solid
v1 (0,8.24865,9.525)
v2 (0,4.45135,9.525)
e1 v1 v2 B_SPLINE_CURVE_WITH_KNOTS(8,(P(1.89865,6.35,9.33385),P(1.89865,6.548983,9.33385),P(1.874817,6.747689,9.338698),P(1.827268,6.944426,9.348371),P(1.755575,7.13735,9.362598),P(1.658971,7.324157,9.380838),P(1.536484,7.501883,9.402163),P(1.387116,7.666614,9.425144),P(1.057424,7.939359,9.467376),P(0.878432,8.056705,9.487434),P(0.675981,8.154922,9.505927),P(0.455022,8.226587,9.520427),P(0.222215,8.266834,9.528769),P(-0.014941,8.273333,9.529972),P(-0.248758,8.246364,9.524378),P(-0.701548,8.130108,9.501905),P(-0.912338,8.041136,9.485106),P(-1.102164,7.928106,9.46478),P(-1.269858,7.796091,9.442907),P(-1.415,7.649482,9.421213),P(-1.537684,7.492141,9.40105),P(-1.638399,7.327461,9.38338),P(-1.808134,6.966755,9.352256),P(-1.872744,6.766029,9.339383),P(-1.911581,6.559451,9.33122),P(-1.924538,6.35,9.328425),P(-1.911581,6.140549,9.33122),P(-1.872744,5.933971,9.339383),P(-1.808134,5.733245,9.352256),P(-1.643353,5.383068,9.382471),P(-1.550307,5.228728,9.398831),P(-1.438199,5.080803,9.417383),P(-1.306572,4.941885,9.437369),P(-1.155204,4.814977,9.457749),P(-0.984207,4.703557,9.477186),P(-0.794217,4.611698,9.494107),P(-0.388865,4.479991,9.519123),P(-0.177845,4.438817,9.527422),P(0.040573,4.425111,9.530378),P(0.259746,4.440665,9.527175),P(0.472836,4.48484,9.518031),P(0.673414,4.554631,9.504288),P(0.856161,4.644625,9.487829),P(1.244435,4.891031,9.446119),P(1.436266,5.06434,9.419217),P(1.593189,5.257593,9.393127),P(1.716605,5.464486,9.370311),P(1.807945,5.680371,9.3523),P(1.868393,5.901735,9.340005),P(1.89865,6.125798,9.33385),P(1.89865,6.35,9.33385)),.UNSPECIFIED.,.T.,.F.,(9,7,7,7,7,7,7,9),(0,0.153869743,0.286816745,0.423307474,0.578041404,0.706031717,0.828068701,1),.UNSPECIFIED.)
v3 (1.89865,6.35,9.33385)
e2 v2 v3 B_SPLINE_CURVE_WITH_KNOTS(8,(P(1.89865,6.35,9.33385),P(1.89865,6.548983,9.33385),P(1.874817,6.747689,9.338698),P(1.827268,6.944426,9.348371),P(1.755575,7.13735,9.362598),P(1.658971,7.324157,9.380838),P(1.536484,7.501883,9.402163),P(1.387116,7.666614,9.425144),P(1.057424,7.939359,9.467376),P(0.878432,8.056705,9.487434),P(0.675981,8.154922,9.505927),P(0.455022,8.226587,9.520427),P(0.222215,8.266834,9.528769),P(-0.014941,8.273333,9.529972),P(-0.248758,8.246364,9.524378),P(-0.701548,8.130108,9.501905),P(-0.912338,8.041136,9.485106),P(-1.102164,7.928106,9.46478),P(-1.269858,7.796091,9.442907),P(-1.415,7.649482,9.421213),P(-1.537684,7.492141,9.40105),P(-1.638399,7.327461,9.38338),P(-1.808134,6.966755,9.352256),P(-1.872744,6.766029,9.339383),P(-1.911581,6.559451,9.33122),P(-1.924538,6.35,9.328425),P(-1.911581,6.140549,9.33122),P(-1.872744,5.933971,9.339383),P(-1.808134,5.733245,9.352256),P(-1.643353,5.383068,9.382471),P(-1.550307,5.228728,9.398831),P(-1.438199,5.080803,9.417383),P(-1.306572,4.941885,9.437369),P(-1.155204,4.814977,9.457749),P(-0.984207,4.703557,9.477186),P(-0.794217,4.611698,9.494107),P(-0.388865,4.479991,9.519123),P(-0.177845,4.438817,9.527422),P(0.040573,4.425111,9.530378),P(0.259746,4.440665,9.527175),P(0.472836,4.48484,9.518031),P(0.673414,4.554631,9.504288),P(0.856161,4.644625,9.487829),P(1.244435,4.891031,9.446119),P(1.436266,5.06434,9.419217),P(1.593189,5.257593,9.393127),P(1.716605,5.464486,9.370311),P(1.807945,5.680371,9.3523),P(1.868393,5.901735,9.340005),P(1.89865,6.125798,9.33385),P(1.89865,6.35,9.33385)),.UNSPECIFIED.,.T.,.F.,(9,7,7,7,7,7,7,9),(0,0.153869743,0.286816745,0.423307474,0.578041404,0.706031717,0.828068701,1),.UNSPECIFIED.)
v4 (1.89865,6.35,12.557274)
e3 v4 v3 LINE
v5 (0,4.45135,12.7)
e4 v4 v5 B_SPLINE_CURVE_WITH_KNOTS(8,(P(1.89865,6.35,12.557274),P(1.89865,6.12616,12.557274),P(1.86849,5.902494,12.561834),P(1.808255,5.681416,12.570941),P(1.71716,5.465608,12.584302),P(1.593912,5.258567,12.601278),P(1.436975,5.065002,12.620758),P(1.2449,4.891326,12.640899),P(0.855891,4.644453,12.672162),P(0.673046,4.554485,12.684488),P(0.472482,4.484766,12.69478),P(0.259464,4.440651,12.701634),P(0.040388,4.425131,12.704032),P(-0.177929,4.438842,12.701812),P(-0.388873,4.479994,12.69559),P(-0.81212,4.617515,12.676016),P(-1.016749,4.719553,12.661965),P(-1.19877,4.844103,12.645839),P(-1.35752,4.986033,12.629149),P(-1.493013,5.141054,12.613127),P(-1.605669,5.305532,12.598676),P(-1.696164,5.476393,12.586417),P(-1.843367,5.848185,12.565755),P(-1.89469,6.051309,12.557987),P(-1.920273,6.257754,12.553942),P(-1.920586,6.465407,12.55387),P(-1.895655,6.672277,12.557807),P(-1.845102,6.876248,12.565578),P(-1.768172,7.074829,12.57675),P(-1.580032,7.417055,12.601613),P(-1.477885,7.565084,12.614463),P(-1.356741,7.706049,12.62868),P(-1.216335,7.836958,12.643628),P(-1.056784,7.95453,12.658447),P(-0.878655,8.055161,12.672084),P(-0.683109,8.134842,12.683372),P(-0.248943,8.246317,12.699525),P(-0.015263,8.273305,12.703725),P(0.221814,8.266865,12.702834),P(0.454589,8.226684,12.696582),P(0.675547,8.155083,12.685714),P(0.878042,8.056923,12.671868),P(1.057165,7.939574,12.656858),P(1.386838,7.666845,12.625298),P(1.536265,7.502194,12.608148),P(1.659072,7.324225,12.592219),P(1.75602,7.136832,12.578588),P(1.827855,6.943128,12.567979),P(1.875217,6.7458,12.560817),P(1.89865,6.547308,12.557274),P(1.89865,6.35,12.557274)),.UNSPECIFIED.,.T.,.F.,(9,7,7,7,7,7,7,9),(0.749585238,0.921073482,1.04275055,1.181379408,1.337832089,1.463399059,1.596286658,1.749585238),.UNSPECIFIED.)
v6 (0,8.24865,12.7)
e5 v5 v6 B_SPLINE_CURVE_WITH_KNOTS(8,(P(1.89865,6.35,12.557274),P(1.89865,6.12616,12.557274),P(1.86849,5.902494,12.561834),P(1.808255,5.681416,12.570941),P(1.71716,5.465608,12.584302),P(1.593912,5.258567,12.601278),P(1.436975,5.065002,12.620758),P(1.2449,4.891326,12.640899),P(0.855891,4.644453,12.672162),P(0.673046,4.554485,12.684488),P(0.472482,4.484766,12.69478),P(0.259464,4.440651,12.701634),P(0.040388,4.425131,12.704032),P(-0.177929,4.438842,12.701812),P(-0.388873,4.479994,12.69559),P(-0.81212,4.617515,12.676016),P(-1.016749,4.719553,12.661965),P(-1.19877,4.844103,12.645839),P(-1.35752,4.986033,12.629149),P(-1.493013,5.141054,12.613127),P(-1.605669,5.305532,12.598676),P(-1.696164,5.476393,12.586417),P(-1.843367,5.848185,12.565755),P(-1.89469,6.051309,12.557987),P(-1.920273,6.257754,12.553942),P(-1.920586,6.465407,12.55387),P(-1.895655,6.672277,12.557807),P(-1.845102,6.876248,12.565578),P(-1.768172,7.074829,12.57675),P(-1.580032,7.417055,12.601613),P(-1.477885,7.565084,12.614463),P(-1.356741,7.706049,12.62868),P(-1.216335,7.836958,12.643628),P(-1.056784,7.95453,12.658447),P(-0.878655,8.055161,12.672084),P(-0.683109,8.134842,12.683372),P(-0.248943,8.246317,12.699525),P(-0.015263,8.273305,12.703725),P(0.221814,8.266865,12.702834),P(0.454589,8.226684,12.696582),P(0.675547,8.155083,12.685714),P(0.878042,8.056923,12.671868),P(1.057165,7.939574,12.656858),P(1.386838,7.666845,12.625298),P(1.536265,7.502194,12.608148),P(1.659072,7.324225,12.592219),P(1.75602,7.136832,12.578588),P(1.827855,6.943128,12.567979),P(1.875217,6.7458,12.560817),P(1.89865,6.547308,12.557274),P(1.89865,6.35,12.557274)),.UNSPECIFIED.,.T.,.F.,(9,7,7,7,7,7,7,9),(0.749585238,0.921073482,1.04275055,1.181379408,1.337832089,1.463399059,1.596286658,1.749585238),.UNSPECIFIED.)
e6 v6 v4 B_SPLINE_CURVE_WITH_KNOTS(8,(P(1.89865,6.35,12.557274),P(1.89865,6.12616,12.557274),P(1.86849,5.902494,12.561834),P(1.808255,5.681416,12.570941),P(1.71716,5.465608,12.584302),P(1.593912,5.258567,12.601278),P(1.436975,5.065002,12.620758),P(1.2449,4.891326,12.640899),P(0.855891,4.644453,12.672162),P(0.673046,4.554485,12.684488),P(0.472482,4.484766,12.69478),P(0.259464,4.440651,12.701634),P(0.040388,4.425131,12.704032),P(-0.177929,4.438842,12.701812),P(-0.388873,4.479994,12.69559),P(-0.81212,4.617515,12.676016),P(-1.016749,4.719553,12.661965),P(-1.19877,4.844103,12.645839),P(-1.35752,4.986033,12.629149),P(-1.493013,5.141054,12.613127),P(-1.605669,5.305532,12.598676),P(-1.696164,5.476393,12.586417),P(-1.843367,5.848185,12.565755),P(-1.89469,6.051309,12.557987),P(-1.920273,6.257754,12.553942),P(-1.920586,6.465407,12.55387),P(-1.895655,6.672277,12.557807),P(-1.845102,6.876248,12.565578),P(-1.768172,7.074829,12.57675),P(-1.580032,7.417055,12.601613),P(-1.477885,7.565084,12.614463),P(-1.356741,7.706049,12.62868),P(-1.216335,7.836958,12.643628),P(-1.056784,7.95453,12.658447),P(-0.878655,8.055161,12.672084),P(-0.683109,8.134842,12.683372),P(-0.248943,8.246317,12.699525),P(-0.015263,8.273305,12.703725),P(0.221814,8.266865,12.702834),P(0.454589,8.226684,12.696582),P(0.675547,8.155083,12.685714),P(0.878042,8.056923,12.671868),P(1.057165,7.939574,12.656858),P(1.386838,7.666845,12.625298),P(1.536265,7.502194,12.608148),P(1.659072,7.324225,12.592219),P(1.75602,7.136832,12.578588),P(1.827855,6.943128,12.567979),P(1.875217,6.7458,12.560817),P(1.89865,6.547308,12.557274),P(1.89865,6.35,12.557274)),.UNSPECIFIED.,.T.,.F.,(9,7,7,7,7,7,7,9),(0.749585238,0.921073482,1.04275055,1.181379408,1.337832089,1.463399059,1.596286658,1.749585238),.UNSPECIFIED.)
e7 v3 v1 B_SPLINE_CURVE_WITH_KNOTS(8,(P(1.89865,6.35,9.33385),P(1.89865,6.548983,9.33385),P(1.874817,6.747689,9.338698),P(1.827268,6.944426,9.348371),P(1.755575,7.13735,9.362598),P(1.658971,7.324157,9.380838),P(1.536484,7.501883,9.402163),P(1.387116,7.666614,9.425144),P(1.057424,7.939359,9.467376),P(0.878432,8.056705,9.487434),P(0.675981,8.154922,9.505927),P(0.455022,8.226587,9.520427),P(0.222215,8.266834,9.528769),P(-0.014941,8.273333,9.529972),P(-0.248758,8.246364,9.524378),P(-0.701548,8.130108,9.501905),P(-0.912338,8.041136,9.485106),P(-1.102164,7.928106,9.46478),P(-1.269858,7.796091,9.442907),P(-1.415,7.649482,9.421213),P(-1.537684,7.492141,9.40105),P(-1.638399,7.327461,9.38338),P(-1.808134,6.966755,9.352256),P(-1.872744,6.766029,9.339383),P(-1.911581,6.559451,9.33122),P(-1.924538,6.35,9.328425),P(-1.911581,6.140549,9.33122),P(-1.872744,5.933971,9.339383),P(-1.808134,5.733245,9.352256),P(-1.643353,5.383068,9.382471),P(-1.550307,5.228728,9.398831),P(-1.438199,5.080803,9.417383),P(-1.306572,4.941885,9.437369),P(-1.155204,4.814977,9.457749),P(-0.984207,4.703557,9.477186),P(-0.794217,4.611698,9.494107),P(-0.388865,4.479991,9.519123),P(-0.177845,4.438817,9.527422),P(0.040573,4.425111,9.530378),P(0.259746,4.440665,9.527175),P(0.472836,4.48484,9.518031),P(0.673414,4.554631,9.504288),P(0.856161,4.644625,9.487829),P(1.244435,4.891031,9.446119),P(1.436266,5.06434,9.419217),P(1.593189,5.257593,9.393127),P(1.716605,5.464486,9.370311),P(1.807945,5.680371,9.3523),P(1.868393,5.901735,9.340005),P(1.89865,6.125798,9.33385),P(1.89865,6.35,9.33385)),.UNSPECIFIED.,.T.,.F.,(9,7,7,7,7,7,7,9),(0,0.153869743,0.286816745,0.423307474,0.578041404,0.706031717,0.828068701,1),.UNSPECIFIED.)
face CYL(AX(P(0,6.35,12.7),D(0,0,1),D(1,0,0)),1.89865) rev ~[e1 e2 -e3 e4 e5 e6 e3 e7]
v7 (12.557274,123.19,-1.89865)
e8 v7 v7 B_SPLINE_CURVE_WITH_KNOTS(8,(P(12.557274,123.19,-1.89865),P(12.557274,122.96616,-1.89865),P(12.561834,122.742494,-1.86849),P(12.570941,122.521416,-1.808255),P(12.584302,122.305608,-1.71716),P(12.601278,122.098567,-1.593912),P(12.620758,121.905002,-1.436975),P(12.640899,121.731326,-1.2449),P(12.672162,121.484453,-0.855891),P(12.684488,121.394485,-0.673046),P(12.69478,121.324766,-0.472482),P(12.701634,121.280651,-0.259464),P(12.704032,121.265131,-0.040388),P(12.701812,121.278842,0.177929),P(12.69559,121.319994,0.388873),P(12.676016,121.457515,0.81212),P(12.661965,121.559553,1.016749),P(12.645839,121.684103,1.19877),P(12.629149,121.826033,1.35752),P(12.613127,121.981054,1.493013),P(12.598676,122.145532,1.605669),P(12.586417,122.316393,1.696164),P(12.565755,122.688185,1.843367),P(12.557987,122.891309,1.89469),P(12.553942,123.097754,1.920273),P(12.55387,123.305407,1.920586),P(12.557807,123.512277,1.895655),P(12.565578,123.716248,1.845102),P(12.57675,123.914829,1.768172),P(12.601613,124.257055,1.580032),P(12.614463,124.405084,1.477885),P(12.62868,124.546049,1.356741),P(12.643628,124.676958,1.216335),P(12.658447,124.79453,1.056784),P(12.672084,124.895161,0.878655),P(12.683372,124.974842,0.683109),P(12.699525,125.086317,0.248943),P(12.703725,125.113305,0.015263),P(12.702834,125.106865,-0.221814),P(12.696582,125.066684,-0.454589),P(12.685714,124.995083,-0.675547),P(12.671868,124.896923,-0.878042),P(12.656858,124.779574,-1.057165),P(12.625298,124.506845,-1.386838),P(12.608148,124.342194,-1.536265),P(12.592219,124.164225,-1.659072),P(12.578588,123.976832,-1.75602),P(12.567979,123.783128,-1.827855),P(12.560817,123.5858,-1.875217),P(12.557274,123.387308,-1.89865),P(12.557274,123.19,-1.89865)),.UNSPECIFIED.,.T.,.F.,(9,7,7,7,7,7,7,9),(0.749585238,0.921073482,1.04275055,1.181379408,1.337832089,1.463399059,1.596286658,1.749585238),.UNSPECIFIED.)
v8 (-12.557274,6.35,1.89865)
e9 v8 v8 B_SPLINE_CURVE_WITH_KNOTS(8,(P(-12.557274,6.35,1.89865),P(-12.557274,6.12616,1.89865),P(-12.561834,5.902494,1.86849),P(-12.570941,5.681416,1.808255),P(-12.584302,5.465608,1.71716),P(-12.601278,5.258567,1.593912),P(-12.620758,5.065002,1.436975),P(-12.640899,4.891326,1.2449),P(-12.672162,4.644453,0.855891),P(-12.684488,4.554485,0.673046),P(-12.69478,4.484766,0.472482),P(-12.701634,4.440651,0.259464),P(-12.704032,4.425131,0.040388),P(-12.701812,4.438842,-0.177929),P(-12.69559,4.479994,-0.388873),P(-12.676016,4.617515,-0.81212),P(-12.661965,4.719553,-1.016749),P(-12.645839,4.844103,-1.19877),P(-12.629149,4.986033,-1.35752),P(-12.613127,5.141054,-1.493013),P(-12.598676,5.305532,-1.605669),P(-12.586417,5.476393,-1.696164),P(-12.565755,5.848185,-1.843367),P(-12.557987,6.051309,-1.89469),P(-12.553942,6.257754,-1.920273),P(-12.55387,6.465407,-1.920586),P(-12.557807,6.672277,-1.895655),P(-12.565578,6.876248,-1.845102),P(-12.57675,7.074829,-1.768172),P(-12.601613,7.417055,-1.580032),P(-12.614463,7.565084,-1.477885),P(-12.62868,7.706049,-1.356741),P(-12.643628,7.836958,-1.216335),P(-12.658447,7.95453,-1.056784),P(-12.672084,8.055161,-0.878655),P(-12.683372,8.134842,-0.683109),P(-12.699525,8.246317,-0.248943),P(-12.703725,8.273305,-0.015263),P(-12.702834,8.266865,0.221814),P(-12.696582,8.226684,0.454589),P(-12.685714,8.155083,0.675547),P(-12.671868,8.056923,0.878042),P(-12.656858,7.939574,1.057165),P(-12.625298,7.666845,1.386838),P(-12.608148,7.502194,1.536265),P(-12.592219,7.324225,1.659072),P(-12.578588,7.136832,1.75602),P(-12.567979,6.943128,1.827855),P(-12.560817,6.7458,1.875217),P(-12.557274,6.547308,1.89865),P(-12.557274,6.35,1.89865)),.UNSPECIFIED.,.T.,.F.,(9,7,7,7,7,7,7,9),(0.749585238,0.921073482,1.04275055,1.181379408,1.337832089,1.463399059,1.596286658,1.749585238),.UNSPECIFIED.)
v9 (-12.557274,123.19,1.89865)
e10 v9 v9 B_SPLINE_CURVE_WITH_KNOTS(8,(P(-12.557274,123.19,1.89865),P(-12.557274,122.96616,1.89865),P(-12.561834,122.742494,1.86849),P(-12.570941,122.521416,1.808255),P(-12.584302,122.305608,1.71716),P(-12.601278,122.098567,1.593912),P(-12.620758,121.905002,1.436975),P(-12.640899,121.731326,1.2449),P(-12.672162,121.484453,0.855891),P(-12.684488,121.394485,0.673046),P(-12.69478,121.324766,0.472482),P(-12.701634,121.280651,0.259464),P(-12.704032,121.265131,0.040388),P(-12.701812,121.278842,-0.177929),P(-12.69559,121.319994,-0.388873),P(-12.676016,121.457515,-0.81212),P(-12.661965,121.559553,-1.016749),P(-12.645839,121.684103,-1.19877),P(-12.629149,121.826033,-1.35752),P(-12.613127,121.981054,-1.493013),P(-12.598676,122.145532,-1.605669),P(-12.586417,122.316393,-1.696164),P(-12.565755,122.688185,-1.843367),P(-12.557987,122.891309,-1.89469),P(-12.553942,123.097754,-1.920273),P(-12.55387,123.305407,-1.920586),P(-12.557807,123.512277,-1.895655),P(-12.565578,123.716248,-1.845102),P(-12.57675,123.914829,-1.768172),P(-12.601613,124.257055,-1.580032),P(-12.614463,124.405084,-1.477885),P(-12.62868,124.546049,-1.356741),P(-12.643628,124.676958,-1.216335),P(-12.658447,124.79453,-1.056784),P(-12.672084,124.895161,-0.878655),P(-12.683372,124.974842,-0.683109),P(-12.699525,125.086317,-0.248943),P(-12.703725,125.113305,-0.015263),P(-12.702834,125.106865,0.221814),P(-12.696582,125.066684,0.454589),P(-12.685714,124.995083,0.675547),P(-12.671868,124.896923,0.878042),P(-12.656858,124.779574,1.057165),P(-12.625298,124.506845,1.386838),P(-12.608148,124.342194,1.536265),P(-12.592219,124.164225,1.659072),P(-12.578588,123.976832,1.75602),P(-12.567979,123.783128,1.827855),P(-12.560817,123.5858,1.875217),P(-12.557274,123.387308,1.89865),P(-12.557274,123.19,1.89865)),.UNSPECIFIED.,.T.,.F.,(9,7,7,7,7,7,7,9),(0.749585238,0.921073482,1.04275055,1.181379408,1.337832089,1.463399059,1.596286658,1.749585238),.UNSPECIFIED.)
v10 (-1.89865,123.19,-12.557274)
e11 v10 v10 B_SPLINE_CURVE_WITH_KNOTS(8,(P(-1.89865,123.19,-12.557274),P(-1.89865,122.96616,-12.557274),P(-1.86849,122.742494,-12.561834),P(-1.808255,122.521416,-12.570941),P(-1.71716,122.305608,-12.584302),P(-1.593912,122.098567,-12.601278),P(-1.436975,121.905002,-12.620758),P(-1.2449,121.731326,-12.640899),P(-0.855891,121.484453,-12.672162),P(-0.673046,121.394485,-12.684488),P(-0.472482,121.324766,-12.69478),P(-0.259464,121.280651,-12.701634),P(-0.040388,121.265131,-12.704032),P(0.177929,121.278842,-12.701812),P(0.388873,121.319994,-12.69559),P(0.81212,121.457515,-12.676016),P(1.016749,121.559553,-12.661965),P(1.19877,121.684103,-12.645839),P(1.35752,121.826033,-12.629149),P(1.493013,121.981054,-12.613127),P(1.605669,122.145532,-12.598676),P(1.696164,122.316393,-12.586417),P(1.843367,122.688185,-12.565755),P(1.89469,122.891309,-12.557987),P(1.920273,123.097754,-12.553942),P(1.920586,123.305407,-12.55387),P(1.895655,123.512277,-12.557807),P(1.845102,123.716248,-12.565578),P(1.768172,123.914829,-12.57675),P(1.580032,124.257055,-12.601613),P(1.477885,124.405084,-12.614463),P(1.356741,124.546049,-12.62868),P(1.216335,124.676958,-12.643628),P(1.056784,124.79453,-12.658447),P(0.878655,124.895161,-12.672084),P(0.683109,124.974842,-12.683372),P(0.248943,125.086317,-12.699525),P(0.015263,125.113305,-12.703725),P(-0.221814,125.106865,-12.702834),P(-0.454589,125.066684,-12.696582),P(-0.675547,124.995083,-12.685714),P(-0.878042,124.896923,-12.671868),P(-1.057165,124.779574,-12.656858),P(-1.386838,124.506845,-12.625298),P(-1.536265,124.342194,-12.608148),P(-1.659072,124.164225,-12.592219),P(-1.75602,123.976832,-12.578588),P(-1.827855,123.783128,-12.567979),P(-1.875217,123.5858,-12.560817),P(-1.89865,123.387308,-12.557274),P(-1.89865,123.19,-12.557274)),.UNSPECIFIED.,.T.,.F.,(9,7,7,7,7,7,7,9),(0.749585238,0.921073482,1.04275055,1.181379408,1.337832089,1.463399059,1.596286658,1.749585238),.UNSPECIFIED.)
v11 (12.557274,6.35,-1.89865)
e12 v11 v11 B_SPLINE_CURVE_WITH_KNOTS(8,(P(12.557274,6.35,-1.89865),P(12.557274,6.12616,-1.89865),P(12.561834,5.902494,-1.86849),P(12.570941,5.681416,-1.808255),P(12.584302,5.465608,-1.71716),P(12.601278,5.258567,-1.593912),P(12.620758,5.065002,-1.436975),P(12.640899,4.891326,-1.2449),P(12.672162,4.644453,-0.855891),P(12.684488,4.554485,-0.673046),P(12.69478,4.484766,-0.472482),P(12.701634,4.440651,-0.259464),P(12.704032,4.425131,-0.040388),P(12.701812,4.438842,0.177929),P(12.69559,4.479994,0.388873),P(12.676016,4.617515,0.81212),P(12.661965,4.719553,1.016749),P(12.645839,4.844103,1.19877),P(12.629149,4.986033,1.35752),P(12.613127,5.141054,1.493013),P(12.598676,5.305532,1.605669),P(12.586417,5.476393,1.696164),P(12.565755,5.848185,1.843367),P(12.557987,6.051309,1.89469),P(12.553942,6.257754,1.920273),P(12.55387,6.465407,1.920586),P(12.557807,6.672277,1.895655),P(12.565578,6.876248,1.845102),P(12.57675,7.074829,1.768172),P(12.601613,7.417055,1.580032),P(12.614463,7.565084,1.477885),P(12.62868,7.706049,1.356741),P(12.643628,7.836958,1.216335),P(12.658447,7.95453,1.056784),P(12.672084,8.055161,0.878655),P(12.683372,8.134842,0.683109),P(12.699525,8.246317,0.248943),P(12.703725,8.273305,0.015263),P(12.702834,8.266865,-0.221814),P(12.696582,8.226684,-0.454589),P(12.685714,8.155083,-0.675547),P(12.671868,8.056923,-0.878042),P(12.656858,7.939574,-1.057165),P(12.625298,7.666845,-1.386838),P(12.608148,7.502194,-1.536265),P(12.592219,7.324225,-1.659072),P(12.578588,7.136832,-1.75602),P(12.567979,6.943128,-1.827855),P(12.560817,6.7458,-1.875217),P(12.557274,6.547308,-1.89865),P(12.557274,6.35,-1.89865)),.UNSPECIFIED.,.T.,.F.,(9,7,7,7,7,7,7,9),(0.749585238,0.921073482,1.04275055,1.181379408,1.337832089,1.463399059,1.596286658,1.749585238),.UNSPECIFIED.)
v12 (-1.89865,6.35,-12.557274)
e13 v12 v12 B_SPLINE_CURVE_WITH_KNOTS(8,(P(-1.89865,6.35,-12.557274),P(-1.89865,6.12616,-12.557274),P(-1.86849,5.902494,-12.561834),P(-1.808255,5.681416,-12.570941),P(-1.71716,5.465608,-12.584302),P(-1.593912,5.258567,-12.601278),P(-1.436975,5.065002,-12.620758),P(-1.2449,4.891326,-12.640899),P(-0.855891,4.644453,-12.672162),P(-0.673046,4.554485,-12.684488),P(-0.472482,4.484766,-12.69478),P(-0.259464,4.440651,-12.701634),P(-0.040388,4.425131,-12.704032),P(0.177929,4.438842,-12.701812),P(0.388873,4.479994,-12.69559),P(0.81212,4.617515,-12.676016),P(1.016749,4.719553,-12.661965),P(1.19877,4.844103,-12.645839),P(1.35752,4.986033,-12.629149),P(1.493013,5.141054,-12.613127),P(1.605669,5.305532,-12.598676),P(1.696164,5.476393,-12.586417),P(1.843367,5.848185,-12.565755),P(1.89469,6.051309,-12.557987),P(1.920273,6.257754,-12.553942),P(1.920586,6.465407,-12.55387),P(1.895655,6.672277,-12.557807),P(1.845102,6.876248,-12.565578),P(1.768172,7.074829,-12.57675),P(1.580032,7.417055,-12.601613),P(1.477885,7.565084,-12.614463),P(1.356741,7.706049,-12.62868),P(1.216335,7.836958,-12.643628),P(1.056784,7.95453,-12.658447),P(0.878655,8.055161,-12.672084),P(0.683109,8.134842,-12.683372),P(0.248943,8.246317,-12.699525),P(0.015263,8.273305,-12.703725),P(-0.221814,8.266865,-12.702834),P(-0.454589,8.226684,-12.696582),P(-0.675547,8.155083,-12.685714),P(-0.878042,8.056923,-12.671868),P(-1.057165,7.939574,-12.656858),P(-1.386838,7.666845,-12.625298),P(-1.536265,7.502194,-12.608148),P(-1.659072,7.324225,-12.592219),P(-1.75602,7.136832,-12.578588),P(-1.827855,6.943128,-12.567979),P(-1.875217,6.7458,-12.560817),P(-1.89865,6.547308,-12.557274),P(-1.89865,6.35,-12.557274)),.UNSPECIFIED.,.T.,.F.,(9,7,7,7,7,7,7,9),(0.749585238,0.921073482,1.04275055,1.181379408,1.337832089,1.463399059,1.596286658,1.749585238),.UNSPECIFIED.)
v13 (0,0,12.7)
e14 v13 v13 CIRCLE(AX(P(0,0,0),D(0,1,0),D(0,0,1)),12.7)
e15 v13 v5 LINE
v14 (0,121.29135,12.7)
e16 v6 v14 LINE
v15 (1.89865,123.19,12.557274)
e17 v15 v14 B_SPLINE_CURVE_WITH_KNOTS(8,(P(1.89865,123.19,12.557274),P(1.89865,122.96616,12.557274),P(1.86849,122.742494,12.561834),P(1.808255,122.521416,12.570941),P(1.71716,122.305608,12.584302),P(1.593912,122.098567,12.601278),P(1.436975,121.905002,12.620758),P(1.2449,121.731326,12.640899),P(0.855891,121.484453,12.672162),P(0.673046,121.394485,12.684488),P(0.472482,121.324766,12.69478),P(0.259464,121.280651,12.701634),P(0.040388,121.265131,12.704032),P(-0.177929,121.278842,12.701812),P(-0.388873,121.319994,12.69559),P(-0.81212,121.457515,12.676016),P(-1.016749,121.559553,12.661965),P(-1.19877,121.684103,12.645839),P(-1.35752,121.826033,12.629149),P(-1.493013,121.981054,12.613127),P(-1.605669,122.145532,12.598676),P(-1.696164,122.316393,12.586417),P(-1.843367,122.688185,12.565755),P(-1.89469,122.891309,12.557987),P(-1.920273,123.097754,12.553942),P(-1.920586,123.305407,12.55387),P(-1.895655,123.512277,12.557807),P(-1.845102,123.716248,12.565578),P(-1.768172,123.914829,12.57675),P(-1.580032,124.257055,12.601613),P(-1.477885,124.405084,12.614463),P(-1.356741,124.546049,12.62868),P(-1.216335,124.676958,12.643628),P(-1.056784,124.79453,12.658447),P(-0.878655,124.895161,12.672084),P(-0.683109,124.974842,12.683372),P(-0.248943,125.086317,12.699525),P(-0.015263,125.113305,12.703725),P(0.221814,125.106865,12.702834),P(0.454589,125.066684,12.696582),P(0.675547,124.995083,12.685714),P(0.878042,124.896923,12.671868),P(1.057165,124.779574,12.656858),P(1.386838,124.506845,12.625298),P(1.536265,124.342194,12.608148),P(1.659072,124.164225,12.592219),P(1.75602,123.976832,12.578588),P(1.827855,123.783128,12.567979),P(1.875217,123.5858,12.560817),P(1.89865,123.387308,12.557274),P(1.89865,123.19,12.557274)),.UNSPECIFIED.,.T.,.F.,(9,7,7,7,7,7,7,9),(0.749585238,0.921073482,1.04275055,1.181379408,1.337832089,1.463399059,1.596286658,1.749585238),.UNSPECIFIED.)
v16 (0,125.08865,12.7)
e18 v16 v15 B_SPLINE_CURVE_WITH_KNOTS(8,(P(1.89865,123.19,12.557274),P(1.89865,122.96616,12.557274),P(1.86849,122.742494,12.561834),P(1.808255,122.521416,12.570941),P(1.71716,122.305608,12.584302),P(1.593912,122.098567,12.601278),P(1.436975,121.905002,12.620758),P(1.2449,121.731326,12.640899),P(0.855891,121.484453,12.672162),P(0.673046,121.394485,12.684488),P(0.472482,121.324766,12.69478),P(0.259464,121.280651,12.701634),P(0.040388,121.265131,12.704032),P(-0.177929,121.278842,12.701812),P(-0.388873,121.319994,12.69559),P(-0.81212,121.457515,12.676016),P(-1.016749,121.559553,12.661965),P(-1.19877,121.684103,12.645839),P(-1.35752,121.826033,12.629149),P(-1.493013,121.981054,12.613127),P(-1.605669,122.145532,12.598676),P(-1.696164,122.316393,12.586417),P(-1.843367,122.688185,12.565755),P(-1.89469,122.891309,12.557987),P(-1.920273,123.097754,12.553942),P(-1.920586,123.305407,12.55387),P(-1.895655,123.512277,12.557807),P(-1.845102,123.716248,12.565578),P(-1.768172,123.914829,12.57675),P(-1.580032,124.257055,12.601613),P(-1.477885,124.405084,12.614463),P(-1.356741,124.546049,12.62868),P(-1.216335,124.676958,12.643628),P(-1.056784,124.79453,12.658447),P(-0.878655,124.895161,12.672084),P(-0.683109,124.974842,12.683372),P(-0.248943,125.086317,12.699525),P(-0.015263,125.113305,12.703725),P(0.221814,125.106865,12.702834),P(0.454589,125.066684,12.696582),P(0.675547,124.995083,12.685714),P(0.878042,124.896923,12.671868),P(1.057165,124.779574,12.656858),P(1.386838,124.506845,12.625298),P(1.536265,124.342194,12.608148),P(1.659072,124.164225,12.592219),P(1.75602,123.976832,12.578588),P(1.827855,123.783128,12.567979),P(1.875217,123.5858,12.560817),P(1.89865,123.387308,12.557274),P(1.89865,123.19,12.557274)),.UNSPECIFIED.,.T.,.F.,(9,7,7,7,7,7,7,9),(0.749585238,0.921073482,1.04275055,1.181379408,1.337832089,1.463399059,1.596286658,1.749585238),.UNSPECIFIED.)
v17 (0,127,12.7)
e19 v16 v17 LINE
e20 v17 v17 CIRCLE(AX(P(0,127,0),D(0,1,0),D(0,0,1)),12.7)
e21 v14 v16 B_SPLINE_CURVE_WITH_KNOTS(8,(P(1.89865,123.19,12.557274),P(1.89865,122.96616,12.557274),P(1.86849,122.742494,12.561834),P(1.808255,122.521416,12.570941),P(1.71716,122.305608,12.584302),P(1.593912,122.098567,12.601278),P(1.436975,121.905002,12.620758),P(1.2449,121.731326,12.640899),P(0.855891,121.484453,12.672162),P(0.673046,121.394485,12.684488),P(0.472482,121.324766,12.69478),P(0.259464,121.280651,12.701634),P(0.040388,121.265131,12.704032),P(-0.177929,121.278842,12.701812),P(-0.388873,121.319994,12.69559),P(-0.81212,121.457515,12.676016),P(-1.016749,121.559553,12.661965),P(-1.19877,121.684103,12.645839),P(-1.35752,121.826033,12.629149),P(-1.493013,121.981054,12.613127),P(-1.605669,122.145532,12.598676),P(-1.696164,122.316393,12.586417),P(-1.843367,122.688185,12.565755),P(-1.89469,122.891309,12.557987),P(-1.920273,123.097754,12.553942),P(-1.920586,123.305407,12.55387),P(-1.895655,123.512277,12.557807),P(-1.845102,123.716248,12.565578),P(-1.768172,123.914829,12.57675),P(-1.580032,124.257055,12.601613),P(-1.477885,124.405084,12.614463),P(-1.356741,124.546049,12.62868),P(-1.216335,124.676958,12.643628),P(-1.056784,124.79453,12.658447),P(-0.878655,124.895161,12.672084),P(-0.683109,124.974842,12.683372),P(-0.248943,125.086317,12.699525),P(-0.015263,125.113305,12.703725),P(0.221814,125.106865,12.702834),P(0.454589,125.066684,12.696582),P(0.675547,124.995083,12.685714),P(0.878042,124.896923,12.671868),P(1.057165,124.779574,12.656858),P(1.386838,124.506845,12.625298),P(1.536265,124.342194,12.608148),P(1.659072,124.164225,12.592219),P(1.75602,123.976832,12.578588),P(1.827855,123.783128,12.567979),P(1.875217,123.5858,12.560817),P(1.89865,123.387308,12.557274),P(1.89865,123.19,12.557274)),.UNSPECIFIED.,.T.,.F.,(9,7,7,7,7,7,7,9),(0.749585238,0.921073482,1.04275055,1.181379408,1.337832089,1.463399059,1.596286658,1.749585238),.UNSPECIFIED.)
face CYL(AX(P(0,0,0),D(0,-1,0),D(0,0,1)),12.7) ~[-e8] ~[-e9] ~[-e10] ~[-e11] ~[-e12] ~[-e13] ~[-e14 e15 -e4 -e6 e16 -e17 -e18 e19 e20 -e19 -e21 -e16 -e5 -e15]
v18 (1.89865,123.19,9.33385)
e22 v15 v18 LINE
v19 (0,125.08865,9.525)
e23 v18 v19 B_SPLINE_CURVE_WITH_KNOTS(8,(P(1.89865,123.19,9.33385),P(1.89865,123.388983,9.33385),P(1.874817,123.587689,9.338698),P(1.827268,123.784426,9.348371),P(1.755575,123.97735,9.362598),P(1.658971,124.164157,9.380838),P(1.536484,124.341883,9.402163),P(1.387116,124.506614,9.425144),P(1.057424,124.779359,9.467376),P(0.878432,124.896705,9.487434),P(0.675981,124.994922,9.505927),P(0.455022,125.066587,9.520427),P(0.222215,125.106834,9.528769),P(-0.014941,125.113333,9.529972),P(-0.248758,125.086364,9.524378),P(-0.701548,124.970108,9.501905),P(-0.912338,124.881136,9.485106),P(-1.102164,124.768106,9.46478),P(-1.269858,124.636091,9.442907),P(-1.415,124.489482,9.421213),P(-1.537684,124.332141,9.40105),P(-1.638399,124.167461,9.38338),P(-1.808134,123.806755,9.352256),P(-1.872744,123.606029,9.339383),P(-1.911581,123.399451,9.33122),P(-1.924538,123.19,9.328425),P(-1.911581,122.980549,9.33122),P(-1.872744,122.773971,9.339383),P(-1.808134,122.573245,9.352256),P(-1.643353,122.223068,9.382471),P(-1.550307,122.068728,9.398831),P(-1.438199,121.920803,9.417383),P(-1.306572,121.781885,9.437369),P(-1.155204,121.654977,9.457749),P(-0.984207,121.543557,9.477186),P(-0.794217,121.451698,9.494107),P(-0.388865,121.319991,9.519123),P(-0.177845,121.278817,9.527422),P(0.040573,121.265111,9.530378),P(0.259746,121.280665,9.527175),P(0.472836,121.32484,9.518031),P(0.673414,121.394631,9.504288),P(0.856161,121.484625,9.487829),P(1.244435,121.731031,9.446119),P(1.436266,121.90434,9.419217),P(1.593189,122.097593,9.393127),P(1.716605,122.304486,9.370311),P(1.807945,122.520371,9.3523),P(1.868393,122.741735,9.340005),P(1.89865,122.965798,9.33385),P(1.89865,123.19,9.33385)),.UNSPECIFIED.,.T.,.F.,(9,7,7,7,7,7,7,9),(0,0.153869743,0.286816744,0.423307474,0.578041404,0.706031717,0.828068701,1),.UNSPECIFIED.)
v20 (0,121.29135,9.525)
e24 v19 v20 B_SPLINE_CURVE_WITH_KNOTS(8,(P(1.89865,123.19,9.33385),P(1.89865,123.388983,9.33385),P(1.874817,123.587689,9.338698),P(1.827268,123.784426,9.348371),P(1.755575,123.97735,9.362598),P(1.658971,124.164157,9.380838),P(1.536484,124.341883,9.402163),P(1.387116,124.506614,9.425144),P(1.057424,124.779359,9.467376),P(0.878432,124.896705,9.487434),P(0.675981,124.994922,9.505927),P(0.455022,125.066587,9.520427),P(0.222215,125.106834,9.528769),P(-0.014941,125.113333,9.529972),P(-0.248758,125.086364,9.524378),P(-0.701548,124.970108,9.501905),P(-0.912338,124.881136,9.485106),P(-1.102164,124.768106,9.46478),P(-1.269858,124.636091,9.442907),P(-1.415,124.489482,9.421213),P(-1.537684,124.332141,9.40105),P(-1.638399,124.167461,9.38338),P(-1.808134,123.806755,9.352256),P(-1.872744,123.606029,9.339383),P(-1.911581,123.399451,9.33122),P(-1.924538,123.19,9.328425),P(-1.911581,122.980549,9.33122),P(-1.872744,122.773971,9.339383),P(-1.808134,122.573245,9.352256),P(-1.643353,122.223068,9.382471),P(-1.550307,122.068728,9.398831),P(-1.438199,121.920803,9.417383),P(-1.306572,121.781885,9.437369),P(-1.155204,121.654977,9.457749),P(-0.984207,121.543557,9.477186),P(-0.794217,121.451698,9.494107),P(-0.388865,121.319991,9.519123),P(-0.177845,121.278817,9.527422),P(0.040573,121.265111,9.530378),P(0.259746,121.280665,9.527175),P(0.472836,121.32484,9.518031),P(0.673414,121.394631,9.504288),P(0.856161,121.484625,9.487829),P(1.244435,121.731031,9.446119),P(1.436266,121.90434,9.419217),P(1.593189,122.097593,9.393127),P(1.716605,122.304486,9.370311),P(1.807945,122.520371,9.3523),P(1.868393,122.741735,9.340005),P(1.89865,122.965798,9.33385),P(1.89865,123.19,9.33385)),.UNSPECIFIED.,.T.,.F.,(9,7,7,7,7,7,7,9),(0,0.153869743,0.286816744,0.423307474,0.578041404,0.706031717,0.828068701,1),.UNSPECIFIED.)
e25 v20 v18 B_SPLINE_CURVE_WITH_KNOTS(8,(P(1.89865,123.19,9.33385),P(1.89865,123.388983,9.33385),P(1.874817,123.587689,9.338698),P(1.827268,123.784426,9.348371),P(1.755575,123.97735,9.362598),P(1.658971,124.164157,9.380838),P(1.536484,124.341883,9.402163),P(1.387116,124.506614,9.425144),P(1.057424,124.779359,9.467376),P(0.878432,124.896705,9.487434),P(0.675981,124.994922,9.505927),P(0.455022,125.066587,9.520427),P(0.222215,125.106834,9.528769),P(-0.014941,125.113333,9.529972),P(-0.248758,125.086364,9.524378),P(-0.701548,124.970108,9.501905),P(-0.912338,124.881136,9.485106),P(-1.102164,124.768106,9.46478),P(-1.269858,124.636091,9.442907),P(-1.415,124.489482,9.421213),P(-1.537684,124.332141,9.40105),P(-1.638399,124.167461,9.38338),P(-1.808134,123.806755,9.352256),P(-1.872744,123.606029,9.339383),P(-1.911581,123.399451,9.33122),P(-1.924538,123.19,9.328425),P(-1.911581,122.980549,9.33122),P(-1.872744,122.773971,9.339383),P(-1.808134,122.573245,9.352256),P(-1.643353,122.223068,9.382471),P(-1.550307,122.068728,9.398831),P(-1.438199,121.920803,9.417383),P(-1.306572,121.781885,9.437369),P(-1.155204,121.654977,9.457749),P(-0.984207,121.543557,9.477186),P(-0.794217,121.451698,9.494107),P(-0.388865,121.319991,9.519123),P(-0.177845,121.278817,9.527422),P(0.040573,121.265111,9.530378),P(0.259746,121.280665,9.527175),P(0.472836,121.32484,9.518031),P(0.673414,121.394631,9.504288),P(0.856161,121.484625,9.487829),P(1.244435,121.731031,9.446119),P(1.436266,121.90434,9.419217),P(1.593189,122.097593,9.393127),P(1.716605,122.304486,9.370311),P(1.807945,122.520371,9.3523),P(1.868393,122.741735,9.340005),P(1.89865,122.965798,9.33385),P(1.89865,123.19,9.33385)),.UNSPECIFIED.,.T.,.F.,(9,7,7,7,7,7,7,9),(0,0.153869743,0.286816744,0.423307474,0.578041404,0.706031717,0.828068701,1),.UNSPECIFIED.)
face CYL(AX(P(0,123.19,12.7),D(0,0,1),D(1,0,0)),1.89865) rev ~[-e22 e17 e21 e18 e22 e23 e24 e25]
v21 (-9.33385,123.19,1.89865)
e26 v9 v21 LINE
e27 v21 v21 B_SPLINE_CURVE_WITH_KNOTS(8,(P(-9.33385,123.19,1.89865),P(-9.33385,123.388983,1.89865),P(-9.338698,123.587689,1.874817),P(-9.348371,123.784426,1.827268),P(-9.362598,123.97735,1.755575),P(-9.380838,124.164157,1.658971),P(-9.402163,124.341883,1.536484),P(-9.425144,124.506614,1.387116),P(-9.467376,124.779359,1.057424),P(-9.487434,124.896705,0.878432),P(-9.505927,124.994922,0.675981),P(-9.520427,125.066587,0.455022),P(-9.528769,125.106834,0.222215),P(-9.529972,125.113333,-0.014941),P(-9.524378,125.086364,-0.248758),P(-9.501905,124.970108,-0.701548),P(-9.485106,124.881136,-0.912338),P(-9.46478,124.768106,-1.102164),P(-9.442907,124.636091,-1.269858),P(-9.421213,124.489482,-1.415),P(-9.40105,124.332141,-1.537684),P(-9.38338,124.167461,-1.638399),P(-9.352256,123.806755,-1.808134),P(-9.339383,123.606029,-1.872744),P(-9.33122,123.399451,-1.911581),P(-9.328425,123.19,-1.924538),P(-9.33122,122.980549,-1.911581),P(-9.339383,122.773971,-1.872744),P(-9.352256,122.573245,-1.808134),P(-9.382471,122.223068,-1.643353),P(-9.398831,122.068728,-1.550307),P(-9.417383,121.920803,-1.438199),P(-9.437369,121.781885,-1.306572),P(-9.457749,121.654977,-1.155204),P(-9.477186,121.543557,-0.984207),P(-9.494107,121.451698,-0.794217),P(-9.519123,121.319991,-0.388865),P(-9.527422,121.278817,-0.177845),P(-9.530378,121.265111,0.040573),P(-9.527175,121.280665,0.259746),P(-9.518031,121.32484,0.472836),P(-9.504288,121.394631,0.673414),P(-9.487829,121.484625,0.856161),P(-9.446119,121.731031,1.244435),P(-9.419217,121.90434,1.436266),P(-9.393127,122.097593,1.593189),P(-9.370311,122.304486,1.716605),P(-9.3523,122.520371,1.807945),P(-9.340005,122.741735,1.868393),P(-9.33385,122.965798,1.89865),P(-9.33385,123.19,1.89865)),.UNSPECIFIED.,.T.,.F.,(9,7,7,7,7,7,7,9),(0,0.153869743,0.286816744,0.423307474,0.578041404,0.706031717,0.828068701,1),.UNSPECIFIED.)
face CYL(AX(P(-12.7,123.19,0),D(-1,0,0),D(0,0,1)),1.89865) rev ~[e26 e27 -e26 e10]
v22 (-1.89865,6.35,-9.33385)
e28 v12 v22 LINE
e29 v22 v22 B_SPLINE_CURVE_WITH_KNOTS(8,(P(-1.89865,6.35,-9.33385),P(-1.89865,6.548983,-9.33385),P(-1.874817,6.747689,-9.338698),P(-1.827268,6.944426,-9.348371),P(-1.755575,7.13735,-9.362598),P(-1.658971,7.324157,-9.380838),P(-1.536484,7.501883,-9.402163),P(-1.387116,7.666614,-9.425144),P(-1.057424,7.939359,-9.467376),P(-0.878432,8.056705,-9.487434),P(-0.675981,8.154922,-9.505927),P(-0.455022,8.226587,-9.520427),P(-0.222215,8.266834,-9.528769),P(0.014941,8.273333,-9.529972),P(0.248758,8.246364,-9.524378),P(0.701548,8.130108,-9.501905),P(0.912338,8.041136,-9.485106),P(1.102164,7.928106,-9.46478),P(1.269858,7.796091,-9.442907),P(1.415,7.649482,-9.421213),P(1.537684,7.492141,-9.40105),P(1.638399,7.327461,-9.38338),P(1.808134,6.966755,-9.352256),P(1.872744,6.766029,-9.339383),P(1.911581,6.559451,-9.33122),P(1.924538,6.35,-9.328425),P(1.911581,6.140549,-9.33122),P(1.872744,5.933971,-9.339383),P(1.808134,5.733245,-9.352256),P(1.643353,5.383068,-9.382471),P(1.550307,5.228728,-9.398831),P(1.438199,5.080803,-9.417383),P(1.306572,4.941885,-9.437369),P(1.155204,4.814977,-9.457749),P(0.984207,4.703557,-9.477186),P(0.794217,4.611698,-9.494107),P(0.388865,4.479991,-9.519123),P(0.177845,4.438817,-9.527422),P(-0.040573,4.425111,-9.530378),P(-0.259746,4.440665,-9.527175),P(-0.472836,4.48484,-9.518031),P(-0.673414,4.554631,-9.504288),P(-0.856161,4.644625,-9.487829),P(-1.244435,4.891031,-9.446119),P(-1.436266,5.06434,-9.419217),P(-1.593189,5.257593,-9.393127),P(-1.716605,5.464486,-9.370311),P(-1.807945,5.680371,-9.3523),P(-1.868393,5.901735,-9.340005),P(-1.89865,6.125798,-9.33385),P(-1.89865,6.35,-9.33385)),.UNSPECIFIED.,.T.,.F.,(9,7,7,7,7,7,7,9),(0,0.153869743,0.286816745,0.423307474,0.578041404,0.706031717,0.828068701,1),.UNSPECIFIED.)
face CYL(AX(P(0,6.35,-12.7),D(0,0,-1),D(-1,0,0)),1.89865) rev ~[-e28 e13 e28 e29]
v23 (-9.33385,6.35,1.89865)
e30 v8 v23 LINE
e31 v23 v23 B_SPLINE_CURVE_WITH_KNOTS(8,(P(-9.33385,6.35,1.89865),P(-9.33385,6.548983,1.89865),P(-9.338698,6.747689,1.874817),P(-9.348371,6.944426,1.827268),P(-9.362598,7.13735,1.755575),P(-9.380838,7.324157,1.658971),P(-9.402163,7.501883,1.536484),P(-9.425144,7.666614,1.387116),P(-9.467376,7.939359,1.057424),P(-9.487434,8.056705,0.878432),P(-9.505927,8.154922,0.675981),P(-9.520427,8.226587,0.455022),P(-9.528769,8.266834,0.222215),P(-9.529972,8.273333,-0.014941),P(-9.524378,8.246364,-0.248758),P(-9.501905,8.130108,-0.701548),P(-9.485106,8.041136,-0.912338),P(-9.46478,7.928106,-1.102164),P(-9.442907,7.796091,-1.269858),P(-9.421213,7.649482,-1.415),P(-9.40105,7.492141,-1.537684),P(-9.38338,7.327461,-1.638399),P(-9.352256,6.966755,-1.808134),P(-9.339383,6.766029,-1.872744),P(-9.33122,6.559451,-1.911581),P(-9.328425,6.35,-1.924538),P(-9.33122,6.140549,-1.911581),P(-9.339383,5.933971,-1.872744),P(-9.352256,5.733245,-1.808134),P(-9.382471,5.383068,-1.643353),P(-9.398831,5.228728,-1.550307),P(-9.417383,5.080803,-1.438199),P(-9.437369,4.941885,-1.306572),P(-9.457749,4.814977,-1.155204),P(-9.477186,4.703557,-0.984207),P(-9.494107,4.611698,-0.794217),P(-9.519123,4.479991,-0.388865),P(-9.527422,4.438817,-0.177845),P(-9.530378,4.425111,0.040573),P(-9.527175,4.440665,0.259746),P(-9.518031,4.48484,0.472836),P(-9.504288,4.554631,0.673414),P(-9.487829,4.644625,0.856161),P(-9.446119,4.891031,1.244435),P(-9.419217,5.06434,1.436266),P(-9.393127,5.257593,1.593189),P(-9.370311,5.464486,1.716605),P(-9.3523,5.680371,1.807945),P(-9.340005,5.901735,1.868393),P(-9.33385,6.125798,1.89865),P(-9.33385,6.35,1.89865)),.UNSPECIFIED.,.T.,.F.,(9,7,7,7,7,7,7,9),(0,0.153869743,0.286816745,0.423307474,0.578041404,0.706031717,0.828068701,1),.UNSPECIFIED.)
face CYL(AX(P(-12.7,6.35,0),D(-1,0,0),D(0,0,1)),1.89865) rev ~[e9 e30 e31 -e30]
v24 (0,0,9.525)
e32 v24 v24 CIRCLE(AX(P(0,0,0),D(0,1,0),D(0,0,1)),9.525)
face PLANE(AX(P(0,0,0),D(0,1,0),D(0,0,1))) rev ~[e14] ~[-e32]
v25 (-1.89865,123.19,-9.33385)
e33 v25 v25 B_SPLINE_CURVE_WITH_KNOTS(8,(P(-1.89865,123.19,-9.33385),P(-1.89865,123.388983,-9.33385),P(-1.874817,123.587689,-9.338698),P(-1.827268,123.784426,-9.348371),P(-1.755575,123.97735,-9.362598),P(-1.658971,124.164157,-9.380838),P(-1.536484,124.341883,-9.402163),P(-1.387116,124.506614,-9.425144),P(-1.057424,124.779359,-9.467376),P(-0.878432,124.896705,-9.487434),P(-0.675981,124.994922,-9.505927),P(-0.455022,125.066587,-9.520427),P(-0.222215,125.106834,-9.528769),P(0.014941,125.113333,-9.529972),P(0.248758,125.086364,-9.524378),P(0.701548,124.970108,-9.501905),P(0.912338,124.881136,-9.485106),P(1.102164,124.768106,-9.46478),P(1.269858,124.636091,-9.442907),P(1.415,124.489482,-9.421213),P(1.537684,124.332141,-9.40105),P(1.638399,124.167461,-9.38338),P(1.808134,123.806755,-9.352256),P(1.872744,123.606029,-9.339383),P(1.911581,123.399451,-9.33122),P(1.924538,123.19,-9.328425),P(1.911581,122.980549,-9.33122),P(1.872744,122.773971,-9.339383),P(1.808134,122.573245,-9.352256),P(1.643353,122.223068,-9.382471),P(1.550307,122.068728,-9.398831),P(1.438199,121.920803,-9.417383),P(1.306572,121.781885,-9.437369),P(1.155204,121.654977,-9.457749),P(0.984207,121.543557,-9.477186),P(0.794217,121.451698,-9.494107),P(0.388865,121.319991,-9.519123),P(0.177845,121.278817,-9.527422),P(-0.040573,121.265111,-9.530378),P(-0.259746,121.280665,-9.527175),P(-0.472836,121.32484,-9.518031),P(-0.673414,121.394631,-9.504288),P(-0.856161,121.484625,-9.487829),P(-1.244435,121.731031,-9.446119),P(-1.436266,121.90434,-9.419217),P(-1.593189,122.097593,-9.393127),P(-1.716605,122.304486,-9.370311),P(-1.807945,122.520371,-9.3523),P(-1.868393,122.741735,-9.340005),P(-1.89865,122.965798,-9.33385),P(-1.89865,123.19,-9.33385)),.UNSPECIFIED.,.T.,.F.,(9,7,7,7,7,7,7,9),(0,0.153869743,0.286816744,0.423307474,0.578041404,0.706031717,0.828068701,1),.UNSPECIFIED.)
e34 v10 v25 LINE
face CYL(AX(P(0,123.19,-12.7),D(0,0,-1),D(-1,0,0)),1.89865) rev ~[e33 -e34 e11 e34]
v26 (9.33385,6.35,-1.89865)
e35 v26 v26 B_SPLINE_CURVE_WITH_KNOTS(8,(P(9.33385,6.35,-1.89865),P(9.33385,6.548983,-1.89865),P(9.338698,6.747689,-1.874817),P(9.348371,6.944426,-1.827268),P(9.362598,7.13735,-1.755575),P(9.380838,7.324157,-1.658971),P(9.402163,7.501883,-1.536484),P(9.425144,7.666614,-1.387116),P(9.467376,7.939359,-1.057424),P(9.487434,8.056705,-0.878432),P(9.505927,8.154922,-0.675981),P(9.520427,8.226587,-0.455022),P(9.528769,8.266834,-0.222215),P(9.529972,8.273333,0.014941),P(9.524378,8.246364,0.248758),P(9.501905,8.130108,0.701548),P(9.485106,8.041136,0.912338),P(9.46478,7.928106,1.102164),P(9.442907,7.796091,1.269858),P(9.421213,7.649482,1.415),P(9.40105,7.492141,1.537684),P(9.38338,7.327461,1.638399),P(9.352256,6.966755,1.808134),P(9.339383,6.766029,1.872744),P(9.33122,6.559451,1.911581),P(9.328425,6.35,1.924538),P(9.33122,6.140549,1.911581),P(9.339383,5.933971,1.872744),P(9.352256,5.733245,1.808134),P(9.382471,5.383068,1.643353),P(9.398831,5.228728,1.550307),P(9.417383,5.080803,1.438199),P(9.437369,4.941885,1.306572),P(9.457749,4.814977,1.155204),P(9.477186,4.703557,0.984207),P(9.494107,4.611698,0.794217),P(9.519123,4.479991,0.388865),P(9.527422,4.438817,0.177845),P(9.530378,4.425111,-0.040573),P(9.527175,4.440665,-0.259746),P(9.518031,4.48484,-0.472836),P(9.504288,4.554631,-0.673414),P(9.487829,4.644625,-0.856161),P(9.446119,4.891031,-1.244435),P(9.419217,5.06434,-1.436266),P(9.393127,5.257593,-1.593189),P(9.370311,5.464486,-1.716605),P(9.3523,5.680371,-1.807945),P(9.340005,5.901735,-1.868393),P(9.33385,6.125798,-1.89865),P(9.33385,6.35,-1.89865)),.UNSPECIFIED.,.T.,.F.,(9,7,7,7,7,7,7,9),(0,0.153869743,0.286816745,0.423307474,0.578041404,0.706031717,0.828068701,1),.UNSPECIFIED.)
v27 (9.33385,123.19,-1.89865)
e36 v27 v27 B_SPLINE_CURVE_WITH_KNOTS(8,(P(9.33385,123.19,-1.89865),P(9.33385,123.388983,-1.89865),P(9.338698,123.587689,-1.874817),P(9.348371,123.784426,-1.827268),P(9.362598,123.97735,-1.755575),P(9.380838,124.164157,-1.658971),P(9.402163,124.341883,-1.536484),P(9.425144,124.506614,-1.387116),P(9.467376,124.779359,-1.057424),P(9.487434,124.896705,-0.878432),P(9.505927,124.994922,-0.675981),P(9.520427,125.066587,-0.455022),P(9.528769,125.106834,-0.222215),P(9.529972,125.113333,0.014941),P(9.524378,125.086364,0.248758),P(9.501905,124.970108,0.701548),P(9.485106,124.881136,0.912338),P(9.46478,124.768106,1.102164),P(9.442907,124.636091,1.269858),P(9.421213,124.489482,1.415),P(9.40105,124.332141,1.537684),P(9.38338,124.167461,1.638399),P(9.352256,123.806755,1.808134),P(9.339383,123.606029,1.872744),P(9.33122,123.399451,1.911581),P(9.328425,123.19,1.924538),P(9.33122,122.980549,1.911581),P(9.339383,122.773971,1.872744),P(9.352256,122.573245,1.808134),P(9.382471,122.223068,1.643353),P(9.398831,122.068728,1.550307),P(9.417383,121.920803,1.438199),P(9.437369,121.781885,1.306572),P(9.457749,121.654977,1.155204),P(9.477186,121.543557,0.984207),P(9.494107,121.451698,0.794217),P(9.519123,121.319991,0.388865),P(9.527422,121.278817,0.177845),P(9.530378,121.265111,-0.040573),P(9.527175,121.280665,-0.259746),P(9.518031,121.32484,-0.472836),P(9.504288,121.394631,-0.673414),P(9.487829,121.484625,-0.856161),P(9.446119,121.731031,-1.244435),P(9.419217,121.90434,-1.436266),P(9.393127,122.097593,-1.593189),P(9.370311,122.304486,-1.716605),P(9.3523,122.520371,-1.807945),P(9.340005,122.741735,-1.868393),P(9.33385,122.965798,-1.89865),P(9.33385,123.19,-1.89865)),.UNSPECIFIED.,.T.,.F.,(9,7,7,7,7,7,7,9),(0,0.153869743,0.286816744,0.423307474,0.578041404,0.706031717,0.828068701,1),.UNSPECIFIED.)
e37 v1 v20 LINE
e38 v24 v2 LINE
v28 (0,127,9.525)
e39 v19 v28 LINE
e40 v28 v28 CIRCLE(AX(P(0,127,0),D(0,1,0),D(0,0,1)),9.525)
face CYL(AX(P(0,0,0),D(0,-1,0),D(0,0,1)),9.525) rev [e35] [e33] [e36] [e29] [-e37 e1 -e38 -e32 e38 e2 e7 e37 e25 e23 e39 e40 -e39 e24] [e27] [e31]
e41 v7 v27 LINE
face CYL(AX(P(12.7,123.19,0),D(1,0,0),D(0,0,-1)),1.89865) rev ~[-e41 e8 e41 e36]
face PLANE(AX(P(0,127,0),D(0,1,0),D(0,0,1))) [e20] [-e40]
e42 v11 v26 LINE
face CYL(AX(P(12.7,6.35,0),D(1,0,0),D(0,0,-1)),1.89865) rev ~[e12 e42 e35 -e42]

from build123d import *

# Parameters (mm, degrees)
SKETCH1_R         = 12.7
SKETCH1_R_2       = 9.525
ELTUBO_DEPTH      = 127
SETSCREW_REACH    = 132.136
SETSCREW_BORE_R   = 1.89865
CIRPATTERN1_COUNT = 4


with BuildPart() as part:
    # Sketch1 → ElTubo (new body)
    with BuildSketch(Plane(origin=(0, 0, 0), x_dir=(1, 0, 0), z_dir=(0, 1, 0))):
        with Locations(Location((0, 0, 0), (0, 0, 270))):
            Circle(SKETCH1_R)
        with Locations(Location((0, 0, 0), (0, 0, 270))):
            Circle(SKETCH1_R_2, mode=Mode.SUBTRACT)
    extrude(amount=ELTUBO_DEPTH)

    # SetScrew bore → SetScrew (cut, up to next)
    with BuildSketch(Plane.ZY.offset(12.7), mode=Mode.PRIVATE) as setscrew_sk1:
        with Locations((0, 6.35)):
            Circle(SETSCREW_BORE_R)
    setscrew_tool1 = extrude(setscrew_sk1.sketch, amount=-SETSCREW_REACH, mode=Mode.PRIVATE) & part.part
    # SetScrew bore → SetScrew (cut, up to next)
    with BuildSketch(Plane.ZY.offset(12.7), mode=Mode.PRIVATE) as setscrew_sk2:
        with Locations((0, 123.19)):
            Circle(SETSCREW_BORE_R)
    setscrew_tool2 = extrude(setscrew_sk2.sketch, amount=-SETSCREW_REACH, mode=Mode.PRIVATE) & part.part
    setscrew_1 = setscrew_tool1.solids().sort_by_distance((-12.7, 6.35, 0))[0]
    add(setscrew_1, mode=Mode.SUBTRACT)
    setscrew_2 = setscrew_tool2.solids().sort_by_distance((-12.7, 123.19, 0))[0]
    add(setscrew_2, mode=Mode.SUBTRACT)
    setscrew = setscrew_1 + setscrew_2  # SetScrew as one shape, for the pattern or mirror that repeats it

    # CirPattern1: SetScrew ×4 about axis
    cirpattern1_axis = Axis((0, 127, 0), (0, -1, 0))
    for i in range(1, CIRPATTERN1_COUNT):
        add(setscrew.rotate(cirpattern1_axis, i * 360 / CIRPATTERN1_COUNT), mode=Mode.SUBTRACT)


solid = part.part
